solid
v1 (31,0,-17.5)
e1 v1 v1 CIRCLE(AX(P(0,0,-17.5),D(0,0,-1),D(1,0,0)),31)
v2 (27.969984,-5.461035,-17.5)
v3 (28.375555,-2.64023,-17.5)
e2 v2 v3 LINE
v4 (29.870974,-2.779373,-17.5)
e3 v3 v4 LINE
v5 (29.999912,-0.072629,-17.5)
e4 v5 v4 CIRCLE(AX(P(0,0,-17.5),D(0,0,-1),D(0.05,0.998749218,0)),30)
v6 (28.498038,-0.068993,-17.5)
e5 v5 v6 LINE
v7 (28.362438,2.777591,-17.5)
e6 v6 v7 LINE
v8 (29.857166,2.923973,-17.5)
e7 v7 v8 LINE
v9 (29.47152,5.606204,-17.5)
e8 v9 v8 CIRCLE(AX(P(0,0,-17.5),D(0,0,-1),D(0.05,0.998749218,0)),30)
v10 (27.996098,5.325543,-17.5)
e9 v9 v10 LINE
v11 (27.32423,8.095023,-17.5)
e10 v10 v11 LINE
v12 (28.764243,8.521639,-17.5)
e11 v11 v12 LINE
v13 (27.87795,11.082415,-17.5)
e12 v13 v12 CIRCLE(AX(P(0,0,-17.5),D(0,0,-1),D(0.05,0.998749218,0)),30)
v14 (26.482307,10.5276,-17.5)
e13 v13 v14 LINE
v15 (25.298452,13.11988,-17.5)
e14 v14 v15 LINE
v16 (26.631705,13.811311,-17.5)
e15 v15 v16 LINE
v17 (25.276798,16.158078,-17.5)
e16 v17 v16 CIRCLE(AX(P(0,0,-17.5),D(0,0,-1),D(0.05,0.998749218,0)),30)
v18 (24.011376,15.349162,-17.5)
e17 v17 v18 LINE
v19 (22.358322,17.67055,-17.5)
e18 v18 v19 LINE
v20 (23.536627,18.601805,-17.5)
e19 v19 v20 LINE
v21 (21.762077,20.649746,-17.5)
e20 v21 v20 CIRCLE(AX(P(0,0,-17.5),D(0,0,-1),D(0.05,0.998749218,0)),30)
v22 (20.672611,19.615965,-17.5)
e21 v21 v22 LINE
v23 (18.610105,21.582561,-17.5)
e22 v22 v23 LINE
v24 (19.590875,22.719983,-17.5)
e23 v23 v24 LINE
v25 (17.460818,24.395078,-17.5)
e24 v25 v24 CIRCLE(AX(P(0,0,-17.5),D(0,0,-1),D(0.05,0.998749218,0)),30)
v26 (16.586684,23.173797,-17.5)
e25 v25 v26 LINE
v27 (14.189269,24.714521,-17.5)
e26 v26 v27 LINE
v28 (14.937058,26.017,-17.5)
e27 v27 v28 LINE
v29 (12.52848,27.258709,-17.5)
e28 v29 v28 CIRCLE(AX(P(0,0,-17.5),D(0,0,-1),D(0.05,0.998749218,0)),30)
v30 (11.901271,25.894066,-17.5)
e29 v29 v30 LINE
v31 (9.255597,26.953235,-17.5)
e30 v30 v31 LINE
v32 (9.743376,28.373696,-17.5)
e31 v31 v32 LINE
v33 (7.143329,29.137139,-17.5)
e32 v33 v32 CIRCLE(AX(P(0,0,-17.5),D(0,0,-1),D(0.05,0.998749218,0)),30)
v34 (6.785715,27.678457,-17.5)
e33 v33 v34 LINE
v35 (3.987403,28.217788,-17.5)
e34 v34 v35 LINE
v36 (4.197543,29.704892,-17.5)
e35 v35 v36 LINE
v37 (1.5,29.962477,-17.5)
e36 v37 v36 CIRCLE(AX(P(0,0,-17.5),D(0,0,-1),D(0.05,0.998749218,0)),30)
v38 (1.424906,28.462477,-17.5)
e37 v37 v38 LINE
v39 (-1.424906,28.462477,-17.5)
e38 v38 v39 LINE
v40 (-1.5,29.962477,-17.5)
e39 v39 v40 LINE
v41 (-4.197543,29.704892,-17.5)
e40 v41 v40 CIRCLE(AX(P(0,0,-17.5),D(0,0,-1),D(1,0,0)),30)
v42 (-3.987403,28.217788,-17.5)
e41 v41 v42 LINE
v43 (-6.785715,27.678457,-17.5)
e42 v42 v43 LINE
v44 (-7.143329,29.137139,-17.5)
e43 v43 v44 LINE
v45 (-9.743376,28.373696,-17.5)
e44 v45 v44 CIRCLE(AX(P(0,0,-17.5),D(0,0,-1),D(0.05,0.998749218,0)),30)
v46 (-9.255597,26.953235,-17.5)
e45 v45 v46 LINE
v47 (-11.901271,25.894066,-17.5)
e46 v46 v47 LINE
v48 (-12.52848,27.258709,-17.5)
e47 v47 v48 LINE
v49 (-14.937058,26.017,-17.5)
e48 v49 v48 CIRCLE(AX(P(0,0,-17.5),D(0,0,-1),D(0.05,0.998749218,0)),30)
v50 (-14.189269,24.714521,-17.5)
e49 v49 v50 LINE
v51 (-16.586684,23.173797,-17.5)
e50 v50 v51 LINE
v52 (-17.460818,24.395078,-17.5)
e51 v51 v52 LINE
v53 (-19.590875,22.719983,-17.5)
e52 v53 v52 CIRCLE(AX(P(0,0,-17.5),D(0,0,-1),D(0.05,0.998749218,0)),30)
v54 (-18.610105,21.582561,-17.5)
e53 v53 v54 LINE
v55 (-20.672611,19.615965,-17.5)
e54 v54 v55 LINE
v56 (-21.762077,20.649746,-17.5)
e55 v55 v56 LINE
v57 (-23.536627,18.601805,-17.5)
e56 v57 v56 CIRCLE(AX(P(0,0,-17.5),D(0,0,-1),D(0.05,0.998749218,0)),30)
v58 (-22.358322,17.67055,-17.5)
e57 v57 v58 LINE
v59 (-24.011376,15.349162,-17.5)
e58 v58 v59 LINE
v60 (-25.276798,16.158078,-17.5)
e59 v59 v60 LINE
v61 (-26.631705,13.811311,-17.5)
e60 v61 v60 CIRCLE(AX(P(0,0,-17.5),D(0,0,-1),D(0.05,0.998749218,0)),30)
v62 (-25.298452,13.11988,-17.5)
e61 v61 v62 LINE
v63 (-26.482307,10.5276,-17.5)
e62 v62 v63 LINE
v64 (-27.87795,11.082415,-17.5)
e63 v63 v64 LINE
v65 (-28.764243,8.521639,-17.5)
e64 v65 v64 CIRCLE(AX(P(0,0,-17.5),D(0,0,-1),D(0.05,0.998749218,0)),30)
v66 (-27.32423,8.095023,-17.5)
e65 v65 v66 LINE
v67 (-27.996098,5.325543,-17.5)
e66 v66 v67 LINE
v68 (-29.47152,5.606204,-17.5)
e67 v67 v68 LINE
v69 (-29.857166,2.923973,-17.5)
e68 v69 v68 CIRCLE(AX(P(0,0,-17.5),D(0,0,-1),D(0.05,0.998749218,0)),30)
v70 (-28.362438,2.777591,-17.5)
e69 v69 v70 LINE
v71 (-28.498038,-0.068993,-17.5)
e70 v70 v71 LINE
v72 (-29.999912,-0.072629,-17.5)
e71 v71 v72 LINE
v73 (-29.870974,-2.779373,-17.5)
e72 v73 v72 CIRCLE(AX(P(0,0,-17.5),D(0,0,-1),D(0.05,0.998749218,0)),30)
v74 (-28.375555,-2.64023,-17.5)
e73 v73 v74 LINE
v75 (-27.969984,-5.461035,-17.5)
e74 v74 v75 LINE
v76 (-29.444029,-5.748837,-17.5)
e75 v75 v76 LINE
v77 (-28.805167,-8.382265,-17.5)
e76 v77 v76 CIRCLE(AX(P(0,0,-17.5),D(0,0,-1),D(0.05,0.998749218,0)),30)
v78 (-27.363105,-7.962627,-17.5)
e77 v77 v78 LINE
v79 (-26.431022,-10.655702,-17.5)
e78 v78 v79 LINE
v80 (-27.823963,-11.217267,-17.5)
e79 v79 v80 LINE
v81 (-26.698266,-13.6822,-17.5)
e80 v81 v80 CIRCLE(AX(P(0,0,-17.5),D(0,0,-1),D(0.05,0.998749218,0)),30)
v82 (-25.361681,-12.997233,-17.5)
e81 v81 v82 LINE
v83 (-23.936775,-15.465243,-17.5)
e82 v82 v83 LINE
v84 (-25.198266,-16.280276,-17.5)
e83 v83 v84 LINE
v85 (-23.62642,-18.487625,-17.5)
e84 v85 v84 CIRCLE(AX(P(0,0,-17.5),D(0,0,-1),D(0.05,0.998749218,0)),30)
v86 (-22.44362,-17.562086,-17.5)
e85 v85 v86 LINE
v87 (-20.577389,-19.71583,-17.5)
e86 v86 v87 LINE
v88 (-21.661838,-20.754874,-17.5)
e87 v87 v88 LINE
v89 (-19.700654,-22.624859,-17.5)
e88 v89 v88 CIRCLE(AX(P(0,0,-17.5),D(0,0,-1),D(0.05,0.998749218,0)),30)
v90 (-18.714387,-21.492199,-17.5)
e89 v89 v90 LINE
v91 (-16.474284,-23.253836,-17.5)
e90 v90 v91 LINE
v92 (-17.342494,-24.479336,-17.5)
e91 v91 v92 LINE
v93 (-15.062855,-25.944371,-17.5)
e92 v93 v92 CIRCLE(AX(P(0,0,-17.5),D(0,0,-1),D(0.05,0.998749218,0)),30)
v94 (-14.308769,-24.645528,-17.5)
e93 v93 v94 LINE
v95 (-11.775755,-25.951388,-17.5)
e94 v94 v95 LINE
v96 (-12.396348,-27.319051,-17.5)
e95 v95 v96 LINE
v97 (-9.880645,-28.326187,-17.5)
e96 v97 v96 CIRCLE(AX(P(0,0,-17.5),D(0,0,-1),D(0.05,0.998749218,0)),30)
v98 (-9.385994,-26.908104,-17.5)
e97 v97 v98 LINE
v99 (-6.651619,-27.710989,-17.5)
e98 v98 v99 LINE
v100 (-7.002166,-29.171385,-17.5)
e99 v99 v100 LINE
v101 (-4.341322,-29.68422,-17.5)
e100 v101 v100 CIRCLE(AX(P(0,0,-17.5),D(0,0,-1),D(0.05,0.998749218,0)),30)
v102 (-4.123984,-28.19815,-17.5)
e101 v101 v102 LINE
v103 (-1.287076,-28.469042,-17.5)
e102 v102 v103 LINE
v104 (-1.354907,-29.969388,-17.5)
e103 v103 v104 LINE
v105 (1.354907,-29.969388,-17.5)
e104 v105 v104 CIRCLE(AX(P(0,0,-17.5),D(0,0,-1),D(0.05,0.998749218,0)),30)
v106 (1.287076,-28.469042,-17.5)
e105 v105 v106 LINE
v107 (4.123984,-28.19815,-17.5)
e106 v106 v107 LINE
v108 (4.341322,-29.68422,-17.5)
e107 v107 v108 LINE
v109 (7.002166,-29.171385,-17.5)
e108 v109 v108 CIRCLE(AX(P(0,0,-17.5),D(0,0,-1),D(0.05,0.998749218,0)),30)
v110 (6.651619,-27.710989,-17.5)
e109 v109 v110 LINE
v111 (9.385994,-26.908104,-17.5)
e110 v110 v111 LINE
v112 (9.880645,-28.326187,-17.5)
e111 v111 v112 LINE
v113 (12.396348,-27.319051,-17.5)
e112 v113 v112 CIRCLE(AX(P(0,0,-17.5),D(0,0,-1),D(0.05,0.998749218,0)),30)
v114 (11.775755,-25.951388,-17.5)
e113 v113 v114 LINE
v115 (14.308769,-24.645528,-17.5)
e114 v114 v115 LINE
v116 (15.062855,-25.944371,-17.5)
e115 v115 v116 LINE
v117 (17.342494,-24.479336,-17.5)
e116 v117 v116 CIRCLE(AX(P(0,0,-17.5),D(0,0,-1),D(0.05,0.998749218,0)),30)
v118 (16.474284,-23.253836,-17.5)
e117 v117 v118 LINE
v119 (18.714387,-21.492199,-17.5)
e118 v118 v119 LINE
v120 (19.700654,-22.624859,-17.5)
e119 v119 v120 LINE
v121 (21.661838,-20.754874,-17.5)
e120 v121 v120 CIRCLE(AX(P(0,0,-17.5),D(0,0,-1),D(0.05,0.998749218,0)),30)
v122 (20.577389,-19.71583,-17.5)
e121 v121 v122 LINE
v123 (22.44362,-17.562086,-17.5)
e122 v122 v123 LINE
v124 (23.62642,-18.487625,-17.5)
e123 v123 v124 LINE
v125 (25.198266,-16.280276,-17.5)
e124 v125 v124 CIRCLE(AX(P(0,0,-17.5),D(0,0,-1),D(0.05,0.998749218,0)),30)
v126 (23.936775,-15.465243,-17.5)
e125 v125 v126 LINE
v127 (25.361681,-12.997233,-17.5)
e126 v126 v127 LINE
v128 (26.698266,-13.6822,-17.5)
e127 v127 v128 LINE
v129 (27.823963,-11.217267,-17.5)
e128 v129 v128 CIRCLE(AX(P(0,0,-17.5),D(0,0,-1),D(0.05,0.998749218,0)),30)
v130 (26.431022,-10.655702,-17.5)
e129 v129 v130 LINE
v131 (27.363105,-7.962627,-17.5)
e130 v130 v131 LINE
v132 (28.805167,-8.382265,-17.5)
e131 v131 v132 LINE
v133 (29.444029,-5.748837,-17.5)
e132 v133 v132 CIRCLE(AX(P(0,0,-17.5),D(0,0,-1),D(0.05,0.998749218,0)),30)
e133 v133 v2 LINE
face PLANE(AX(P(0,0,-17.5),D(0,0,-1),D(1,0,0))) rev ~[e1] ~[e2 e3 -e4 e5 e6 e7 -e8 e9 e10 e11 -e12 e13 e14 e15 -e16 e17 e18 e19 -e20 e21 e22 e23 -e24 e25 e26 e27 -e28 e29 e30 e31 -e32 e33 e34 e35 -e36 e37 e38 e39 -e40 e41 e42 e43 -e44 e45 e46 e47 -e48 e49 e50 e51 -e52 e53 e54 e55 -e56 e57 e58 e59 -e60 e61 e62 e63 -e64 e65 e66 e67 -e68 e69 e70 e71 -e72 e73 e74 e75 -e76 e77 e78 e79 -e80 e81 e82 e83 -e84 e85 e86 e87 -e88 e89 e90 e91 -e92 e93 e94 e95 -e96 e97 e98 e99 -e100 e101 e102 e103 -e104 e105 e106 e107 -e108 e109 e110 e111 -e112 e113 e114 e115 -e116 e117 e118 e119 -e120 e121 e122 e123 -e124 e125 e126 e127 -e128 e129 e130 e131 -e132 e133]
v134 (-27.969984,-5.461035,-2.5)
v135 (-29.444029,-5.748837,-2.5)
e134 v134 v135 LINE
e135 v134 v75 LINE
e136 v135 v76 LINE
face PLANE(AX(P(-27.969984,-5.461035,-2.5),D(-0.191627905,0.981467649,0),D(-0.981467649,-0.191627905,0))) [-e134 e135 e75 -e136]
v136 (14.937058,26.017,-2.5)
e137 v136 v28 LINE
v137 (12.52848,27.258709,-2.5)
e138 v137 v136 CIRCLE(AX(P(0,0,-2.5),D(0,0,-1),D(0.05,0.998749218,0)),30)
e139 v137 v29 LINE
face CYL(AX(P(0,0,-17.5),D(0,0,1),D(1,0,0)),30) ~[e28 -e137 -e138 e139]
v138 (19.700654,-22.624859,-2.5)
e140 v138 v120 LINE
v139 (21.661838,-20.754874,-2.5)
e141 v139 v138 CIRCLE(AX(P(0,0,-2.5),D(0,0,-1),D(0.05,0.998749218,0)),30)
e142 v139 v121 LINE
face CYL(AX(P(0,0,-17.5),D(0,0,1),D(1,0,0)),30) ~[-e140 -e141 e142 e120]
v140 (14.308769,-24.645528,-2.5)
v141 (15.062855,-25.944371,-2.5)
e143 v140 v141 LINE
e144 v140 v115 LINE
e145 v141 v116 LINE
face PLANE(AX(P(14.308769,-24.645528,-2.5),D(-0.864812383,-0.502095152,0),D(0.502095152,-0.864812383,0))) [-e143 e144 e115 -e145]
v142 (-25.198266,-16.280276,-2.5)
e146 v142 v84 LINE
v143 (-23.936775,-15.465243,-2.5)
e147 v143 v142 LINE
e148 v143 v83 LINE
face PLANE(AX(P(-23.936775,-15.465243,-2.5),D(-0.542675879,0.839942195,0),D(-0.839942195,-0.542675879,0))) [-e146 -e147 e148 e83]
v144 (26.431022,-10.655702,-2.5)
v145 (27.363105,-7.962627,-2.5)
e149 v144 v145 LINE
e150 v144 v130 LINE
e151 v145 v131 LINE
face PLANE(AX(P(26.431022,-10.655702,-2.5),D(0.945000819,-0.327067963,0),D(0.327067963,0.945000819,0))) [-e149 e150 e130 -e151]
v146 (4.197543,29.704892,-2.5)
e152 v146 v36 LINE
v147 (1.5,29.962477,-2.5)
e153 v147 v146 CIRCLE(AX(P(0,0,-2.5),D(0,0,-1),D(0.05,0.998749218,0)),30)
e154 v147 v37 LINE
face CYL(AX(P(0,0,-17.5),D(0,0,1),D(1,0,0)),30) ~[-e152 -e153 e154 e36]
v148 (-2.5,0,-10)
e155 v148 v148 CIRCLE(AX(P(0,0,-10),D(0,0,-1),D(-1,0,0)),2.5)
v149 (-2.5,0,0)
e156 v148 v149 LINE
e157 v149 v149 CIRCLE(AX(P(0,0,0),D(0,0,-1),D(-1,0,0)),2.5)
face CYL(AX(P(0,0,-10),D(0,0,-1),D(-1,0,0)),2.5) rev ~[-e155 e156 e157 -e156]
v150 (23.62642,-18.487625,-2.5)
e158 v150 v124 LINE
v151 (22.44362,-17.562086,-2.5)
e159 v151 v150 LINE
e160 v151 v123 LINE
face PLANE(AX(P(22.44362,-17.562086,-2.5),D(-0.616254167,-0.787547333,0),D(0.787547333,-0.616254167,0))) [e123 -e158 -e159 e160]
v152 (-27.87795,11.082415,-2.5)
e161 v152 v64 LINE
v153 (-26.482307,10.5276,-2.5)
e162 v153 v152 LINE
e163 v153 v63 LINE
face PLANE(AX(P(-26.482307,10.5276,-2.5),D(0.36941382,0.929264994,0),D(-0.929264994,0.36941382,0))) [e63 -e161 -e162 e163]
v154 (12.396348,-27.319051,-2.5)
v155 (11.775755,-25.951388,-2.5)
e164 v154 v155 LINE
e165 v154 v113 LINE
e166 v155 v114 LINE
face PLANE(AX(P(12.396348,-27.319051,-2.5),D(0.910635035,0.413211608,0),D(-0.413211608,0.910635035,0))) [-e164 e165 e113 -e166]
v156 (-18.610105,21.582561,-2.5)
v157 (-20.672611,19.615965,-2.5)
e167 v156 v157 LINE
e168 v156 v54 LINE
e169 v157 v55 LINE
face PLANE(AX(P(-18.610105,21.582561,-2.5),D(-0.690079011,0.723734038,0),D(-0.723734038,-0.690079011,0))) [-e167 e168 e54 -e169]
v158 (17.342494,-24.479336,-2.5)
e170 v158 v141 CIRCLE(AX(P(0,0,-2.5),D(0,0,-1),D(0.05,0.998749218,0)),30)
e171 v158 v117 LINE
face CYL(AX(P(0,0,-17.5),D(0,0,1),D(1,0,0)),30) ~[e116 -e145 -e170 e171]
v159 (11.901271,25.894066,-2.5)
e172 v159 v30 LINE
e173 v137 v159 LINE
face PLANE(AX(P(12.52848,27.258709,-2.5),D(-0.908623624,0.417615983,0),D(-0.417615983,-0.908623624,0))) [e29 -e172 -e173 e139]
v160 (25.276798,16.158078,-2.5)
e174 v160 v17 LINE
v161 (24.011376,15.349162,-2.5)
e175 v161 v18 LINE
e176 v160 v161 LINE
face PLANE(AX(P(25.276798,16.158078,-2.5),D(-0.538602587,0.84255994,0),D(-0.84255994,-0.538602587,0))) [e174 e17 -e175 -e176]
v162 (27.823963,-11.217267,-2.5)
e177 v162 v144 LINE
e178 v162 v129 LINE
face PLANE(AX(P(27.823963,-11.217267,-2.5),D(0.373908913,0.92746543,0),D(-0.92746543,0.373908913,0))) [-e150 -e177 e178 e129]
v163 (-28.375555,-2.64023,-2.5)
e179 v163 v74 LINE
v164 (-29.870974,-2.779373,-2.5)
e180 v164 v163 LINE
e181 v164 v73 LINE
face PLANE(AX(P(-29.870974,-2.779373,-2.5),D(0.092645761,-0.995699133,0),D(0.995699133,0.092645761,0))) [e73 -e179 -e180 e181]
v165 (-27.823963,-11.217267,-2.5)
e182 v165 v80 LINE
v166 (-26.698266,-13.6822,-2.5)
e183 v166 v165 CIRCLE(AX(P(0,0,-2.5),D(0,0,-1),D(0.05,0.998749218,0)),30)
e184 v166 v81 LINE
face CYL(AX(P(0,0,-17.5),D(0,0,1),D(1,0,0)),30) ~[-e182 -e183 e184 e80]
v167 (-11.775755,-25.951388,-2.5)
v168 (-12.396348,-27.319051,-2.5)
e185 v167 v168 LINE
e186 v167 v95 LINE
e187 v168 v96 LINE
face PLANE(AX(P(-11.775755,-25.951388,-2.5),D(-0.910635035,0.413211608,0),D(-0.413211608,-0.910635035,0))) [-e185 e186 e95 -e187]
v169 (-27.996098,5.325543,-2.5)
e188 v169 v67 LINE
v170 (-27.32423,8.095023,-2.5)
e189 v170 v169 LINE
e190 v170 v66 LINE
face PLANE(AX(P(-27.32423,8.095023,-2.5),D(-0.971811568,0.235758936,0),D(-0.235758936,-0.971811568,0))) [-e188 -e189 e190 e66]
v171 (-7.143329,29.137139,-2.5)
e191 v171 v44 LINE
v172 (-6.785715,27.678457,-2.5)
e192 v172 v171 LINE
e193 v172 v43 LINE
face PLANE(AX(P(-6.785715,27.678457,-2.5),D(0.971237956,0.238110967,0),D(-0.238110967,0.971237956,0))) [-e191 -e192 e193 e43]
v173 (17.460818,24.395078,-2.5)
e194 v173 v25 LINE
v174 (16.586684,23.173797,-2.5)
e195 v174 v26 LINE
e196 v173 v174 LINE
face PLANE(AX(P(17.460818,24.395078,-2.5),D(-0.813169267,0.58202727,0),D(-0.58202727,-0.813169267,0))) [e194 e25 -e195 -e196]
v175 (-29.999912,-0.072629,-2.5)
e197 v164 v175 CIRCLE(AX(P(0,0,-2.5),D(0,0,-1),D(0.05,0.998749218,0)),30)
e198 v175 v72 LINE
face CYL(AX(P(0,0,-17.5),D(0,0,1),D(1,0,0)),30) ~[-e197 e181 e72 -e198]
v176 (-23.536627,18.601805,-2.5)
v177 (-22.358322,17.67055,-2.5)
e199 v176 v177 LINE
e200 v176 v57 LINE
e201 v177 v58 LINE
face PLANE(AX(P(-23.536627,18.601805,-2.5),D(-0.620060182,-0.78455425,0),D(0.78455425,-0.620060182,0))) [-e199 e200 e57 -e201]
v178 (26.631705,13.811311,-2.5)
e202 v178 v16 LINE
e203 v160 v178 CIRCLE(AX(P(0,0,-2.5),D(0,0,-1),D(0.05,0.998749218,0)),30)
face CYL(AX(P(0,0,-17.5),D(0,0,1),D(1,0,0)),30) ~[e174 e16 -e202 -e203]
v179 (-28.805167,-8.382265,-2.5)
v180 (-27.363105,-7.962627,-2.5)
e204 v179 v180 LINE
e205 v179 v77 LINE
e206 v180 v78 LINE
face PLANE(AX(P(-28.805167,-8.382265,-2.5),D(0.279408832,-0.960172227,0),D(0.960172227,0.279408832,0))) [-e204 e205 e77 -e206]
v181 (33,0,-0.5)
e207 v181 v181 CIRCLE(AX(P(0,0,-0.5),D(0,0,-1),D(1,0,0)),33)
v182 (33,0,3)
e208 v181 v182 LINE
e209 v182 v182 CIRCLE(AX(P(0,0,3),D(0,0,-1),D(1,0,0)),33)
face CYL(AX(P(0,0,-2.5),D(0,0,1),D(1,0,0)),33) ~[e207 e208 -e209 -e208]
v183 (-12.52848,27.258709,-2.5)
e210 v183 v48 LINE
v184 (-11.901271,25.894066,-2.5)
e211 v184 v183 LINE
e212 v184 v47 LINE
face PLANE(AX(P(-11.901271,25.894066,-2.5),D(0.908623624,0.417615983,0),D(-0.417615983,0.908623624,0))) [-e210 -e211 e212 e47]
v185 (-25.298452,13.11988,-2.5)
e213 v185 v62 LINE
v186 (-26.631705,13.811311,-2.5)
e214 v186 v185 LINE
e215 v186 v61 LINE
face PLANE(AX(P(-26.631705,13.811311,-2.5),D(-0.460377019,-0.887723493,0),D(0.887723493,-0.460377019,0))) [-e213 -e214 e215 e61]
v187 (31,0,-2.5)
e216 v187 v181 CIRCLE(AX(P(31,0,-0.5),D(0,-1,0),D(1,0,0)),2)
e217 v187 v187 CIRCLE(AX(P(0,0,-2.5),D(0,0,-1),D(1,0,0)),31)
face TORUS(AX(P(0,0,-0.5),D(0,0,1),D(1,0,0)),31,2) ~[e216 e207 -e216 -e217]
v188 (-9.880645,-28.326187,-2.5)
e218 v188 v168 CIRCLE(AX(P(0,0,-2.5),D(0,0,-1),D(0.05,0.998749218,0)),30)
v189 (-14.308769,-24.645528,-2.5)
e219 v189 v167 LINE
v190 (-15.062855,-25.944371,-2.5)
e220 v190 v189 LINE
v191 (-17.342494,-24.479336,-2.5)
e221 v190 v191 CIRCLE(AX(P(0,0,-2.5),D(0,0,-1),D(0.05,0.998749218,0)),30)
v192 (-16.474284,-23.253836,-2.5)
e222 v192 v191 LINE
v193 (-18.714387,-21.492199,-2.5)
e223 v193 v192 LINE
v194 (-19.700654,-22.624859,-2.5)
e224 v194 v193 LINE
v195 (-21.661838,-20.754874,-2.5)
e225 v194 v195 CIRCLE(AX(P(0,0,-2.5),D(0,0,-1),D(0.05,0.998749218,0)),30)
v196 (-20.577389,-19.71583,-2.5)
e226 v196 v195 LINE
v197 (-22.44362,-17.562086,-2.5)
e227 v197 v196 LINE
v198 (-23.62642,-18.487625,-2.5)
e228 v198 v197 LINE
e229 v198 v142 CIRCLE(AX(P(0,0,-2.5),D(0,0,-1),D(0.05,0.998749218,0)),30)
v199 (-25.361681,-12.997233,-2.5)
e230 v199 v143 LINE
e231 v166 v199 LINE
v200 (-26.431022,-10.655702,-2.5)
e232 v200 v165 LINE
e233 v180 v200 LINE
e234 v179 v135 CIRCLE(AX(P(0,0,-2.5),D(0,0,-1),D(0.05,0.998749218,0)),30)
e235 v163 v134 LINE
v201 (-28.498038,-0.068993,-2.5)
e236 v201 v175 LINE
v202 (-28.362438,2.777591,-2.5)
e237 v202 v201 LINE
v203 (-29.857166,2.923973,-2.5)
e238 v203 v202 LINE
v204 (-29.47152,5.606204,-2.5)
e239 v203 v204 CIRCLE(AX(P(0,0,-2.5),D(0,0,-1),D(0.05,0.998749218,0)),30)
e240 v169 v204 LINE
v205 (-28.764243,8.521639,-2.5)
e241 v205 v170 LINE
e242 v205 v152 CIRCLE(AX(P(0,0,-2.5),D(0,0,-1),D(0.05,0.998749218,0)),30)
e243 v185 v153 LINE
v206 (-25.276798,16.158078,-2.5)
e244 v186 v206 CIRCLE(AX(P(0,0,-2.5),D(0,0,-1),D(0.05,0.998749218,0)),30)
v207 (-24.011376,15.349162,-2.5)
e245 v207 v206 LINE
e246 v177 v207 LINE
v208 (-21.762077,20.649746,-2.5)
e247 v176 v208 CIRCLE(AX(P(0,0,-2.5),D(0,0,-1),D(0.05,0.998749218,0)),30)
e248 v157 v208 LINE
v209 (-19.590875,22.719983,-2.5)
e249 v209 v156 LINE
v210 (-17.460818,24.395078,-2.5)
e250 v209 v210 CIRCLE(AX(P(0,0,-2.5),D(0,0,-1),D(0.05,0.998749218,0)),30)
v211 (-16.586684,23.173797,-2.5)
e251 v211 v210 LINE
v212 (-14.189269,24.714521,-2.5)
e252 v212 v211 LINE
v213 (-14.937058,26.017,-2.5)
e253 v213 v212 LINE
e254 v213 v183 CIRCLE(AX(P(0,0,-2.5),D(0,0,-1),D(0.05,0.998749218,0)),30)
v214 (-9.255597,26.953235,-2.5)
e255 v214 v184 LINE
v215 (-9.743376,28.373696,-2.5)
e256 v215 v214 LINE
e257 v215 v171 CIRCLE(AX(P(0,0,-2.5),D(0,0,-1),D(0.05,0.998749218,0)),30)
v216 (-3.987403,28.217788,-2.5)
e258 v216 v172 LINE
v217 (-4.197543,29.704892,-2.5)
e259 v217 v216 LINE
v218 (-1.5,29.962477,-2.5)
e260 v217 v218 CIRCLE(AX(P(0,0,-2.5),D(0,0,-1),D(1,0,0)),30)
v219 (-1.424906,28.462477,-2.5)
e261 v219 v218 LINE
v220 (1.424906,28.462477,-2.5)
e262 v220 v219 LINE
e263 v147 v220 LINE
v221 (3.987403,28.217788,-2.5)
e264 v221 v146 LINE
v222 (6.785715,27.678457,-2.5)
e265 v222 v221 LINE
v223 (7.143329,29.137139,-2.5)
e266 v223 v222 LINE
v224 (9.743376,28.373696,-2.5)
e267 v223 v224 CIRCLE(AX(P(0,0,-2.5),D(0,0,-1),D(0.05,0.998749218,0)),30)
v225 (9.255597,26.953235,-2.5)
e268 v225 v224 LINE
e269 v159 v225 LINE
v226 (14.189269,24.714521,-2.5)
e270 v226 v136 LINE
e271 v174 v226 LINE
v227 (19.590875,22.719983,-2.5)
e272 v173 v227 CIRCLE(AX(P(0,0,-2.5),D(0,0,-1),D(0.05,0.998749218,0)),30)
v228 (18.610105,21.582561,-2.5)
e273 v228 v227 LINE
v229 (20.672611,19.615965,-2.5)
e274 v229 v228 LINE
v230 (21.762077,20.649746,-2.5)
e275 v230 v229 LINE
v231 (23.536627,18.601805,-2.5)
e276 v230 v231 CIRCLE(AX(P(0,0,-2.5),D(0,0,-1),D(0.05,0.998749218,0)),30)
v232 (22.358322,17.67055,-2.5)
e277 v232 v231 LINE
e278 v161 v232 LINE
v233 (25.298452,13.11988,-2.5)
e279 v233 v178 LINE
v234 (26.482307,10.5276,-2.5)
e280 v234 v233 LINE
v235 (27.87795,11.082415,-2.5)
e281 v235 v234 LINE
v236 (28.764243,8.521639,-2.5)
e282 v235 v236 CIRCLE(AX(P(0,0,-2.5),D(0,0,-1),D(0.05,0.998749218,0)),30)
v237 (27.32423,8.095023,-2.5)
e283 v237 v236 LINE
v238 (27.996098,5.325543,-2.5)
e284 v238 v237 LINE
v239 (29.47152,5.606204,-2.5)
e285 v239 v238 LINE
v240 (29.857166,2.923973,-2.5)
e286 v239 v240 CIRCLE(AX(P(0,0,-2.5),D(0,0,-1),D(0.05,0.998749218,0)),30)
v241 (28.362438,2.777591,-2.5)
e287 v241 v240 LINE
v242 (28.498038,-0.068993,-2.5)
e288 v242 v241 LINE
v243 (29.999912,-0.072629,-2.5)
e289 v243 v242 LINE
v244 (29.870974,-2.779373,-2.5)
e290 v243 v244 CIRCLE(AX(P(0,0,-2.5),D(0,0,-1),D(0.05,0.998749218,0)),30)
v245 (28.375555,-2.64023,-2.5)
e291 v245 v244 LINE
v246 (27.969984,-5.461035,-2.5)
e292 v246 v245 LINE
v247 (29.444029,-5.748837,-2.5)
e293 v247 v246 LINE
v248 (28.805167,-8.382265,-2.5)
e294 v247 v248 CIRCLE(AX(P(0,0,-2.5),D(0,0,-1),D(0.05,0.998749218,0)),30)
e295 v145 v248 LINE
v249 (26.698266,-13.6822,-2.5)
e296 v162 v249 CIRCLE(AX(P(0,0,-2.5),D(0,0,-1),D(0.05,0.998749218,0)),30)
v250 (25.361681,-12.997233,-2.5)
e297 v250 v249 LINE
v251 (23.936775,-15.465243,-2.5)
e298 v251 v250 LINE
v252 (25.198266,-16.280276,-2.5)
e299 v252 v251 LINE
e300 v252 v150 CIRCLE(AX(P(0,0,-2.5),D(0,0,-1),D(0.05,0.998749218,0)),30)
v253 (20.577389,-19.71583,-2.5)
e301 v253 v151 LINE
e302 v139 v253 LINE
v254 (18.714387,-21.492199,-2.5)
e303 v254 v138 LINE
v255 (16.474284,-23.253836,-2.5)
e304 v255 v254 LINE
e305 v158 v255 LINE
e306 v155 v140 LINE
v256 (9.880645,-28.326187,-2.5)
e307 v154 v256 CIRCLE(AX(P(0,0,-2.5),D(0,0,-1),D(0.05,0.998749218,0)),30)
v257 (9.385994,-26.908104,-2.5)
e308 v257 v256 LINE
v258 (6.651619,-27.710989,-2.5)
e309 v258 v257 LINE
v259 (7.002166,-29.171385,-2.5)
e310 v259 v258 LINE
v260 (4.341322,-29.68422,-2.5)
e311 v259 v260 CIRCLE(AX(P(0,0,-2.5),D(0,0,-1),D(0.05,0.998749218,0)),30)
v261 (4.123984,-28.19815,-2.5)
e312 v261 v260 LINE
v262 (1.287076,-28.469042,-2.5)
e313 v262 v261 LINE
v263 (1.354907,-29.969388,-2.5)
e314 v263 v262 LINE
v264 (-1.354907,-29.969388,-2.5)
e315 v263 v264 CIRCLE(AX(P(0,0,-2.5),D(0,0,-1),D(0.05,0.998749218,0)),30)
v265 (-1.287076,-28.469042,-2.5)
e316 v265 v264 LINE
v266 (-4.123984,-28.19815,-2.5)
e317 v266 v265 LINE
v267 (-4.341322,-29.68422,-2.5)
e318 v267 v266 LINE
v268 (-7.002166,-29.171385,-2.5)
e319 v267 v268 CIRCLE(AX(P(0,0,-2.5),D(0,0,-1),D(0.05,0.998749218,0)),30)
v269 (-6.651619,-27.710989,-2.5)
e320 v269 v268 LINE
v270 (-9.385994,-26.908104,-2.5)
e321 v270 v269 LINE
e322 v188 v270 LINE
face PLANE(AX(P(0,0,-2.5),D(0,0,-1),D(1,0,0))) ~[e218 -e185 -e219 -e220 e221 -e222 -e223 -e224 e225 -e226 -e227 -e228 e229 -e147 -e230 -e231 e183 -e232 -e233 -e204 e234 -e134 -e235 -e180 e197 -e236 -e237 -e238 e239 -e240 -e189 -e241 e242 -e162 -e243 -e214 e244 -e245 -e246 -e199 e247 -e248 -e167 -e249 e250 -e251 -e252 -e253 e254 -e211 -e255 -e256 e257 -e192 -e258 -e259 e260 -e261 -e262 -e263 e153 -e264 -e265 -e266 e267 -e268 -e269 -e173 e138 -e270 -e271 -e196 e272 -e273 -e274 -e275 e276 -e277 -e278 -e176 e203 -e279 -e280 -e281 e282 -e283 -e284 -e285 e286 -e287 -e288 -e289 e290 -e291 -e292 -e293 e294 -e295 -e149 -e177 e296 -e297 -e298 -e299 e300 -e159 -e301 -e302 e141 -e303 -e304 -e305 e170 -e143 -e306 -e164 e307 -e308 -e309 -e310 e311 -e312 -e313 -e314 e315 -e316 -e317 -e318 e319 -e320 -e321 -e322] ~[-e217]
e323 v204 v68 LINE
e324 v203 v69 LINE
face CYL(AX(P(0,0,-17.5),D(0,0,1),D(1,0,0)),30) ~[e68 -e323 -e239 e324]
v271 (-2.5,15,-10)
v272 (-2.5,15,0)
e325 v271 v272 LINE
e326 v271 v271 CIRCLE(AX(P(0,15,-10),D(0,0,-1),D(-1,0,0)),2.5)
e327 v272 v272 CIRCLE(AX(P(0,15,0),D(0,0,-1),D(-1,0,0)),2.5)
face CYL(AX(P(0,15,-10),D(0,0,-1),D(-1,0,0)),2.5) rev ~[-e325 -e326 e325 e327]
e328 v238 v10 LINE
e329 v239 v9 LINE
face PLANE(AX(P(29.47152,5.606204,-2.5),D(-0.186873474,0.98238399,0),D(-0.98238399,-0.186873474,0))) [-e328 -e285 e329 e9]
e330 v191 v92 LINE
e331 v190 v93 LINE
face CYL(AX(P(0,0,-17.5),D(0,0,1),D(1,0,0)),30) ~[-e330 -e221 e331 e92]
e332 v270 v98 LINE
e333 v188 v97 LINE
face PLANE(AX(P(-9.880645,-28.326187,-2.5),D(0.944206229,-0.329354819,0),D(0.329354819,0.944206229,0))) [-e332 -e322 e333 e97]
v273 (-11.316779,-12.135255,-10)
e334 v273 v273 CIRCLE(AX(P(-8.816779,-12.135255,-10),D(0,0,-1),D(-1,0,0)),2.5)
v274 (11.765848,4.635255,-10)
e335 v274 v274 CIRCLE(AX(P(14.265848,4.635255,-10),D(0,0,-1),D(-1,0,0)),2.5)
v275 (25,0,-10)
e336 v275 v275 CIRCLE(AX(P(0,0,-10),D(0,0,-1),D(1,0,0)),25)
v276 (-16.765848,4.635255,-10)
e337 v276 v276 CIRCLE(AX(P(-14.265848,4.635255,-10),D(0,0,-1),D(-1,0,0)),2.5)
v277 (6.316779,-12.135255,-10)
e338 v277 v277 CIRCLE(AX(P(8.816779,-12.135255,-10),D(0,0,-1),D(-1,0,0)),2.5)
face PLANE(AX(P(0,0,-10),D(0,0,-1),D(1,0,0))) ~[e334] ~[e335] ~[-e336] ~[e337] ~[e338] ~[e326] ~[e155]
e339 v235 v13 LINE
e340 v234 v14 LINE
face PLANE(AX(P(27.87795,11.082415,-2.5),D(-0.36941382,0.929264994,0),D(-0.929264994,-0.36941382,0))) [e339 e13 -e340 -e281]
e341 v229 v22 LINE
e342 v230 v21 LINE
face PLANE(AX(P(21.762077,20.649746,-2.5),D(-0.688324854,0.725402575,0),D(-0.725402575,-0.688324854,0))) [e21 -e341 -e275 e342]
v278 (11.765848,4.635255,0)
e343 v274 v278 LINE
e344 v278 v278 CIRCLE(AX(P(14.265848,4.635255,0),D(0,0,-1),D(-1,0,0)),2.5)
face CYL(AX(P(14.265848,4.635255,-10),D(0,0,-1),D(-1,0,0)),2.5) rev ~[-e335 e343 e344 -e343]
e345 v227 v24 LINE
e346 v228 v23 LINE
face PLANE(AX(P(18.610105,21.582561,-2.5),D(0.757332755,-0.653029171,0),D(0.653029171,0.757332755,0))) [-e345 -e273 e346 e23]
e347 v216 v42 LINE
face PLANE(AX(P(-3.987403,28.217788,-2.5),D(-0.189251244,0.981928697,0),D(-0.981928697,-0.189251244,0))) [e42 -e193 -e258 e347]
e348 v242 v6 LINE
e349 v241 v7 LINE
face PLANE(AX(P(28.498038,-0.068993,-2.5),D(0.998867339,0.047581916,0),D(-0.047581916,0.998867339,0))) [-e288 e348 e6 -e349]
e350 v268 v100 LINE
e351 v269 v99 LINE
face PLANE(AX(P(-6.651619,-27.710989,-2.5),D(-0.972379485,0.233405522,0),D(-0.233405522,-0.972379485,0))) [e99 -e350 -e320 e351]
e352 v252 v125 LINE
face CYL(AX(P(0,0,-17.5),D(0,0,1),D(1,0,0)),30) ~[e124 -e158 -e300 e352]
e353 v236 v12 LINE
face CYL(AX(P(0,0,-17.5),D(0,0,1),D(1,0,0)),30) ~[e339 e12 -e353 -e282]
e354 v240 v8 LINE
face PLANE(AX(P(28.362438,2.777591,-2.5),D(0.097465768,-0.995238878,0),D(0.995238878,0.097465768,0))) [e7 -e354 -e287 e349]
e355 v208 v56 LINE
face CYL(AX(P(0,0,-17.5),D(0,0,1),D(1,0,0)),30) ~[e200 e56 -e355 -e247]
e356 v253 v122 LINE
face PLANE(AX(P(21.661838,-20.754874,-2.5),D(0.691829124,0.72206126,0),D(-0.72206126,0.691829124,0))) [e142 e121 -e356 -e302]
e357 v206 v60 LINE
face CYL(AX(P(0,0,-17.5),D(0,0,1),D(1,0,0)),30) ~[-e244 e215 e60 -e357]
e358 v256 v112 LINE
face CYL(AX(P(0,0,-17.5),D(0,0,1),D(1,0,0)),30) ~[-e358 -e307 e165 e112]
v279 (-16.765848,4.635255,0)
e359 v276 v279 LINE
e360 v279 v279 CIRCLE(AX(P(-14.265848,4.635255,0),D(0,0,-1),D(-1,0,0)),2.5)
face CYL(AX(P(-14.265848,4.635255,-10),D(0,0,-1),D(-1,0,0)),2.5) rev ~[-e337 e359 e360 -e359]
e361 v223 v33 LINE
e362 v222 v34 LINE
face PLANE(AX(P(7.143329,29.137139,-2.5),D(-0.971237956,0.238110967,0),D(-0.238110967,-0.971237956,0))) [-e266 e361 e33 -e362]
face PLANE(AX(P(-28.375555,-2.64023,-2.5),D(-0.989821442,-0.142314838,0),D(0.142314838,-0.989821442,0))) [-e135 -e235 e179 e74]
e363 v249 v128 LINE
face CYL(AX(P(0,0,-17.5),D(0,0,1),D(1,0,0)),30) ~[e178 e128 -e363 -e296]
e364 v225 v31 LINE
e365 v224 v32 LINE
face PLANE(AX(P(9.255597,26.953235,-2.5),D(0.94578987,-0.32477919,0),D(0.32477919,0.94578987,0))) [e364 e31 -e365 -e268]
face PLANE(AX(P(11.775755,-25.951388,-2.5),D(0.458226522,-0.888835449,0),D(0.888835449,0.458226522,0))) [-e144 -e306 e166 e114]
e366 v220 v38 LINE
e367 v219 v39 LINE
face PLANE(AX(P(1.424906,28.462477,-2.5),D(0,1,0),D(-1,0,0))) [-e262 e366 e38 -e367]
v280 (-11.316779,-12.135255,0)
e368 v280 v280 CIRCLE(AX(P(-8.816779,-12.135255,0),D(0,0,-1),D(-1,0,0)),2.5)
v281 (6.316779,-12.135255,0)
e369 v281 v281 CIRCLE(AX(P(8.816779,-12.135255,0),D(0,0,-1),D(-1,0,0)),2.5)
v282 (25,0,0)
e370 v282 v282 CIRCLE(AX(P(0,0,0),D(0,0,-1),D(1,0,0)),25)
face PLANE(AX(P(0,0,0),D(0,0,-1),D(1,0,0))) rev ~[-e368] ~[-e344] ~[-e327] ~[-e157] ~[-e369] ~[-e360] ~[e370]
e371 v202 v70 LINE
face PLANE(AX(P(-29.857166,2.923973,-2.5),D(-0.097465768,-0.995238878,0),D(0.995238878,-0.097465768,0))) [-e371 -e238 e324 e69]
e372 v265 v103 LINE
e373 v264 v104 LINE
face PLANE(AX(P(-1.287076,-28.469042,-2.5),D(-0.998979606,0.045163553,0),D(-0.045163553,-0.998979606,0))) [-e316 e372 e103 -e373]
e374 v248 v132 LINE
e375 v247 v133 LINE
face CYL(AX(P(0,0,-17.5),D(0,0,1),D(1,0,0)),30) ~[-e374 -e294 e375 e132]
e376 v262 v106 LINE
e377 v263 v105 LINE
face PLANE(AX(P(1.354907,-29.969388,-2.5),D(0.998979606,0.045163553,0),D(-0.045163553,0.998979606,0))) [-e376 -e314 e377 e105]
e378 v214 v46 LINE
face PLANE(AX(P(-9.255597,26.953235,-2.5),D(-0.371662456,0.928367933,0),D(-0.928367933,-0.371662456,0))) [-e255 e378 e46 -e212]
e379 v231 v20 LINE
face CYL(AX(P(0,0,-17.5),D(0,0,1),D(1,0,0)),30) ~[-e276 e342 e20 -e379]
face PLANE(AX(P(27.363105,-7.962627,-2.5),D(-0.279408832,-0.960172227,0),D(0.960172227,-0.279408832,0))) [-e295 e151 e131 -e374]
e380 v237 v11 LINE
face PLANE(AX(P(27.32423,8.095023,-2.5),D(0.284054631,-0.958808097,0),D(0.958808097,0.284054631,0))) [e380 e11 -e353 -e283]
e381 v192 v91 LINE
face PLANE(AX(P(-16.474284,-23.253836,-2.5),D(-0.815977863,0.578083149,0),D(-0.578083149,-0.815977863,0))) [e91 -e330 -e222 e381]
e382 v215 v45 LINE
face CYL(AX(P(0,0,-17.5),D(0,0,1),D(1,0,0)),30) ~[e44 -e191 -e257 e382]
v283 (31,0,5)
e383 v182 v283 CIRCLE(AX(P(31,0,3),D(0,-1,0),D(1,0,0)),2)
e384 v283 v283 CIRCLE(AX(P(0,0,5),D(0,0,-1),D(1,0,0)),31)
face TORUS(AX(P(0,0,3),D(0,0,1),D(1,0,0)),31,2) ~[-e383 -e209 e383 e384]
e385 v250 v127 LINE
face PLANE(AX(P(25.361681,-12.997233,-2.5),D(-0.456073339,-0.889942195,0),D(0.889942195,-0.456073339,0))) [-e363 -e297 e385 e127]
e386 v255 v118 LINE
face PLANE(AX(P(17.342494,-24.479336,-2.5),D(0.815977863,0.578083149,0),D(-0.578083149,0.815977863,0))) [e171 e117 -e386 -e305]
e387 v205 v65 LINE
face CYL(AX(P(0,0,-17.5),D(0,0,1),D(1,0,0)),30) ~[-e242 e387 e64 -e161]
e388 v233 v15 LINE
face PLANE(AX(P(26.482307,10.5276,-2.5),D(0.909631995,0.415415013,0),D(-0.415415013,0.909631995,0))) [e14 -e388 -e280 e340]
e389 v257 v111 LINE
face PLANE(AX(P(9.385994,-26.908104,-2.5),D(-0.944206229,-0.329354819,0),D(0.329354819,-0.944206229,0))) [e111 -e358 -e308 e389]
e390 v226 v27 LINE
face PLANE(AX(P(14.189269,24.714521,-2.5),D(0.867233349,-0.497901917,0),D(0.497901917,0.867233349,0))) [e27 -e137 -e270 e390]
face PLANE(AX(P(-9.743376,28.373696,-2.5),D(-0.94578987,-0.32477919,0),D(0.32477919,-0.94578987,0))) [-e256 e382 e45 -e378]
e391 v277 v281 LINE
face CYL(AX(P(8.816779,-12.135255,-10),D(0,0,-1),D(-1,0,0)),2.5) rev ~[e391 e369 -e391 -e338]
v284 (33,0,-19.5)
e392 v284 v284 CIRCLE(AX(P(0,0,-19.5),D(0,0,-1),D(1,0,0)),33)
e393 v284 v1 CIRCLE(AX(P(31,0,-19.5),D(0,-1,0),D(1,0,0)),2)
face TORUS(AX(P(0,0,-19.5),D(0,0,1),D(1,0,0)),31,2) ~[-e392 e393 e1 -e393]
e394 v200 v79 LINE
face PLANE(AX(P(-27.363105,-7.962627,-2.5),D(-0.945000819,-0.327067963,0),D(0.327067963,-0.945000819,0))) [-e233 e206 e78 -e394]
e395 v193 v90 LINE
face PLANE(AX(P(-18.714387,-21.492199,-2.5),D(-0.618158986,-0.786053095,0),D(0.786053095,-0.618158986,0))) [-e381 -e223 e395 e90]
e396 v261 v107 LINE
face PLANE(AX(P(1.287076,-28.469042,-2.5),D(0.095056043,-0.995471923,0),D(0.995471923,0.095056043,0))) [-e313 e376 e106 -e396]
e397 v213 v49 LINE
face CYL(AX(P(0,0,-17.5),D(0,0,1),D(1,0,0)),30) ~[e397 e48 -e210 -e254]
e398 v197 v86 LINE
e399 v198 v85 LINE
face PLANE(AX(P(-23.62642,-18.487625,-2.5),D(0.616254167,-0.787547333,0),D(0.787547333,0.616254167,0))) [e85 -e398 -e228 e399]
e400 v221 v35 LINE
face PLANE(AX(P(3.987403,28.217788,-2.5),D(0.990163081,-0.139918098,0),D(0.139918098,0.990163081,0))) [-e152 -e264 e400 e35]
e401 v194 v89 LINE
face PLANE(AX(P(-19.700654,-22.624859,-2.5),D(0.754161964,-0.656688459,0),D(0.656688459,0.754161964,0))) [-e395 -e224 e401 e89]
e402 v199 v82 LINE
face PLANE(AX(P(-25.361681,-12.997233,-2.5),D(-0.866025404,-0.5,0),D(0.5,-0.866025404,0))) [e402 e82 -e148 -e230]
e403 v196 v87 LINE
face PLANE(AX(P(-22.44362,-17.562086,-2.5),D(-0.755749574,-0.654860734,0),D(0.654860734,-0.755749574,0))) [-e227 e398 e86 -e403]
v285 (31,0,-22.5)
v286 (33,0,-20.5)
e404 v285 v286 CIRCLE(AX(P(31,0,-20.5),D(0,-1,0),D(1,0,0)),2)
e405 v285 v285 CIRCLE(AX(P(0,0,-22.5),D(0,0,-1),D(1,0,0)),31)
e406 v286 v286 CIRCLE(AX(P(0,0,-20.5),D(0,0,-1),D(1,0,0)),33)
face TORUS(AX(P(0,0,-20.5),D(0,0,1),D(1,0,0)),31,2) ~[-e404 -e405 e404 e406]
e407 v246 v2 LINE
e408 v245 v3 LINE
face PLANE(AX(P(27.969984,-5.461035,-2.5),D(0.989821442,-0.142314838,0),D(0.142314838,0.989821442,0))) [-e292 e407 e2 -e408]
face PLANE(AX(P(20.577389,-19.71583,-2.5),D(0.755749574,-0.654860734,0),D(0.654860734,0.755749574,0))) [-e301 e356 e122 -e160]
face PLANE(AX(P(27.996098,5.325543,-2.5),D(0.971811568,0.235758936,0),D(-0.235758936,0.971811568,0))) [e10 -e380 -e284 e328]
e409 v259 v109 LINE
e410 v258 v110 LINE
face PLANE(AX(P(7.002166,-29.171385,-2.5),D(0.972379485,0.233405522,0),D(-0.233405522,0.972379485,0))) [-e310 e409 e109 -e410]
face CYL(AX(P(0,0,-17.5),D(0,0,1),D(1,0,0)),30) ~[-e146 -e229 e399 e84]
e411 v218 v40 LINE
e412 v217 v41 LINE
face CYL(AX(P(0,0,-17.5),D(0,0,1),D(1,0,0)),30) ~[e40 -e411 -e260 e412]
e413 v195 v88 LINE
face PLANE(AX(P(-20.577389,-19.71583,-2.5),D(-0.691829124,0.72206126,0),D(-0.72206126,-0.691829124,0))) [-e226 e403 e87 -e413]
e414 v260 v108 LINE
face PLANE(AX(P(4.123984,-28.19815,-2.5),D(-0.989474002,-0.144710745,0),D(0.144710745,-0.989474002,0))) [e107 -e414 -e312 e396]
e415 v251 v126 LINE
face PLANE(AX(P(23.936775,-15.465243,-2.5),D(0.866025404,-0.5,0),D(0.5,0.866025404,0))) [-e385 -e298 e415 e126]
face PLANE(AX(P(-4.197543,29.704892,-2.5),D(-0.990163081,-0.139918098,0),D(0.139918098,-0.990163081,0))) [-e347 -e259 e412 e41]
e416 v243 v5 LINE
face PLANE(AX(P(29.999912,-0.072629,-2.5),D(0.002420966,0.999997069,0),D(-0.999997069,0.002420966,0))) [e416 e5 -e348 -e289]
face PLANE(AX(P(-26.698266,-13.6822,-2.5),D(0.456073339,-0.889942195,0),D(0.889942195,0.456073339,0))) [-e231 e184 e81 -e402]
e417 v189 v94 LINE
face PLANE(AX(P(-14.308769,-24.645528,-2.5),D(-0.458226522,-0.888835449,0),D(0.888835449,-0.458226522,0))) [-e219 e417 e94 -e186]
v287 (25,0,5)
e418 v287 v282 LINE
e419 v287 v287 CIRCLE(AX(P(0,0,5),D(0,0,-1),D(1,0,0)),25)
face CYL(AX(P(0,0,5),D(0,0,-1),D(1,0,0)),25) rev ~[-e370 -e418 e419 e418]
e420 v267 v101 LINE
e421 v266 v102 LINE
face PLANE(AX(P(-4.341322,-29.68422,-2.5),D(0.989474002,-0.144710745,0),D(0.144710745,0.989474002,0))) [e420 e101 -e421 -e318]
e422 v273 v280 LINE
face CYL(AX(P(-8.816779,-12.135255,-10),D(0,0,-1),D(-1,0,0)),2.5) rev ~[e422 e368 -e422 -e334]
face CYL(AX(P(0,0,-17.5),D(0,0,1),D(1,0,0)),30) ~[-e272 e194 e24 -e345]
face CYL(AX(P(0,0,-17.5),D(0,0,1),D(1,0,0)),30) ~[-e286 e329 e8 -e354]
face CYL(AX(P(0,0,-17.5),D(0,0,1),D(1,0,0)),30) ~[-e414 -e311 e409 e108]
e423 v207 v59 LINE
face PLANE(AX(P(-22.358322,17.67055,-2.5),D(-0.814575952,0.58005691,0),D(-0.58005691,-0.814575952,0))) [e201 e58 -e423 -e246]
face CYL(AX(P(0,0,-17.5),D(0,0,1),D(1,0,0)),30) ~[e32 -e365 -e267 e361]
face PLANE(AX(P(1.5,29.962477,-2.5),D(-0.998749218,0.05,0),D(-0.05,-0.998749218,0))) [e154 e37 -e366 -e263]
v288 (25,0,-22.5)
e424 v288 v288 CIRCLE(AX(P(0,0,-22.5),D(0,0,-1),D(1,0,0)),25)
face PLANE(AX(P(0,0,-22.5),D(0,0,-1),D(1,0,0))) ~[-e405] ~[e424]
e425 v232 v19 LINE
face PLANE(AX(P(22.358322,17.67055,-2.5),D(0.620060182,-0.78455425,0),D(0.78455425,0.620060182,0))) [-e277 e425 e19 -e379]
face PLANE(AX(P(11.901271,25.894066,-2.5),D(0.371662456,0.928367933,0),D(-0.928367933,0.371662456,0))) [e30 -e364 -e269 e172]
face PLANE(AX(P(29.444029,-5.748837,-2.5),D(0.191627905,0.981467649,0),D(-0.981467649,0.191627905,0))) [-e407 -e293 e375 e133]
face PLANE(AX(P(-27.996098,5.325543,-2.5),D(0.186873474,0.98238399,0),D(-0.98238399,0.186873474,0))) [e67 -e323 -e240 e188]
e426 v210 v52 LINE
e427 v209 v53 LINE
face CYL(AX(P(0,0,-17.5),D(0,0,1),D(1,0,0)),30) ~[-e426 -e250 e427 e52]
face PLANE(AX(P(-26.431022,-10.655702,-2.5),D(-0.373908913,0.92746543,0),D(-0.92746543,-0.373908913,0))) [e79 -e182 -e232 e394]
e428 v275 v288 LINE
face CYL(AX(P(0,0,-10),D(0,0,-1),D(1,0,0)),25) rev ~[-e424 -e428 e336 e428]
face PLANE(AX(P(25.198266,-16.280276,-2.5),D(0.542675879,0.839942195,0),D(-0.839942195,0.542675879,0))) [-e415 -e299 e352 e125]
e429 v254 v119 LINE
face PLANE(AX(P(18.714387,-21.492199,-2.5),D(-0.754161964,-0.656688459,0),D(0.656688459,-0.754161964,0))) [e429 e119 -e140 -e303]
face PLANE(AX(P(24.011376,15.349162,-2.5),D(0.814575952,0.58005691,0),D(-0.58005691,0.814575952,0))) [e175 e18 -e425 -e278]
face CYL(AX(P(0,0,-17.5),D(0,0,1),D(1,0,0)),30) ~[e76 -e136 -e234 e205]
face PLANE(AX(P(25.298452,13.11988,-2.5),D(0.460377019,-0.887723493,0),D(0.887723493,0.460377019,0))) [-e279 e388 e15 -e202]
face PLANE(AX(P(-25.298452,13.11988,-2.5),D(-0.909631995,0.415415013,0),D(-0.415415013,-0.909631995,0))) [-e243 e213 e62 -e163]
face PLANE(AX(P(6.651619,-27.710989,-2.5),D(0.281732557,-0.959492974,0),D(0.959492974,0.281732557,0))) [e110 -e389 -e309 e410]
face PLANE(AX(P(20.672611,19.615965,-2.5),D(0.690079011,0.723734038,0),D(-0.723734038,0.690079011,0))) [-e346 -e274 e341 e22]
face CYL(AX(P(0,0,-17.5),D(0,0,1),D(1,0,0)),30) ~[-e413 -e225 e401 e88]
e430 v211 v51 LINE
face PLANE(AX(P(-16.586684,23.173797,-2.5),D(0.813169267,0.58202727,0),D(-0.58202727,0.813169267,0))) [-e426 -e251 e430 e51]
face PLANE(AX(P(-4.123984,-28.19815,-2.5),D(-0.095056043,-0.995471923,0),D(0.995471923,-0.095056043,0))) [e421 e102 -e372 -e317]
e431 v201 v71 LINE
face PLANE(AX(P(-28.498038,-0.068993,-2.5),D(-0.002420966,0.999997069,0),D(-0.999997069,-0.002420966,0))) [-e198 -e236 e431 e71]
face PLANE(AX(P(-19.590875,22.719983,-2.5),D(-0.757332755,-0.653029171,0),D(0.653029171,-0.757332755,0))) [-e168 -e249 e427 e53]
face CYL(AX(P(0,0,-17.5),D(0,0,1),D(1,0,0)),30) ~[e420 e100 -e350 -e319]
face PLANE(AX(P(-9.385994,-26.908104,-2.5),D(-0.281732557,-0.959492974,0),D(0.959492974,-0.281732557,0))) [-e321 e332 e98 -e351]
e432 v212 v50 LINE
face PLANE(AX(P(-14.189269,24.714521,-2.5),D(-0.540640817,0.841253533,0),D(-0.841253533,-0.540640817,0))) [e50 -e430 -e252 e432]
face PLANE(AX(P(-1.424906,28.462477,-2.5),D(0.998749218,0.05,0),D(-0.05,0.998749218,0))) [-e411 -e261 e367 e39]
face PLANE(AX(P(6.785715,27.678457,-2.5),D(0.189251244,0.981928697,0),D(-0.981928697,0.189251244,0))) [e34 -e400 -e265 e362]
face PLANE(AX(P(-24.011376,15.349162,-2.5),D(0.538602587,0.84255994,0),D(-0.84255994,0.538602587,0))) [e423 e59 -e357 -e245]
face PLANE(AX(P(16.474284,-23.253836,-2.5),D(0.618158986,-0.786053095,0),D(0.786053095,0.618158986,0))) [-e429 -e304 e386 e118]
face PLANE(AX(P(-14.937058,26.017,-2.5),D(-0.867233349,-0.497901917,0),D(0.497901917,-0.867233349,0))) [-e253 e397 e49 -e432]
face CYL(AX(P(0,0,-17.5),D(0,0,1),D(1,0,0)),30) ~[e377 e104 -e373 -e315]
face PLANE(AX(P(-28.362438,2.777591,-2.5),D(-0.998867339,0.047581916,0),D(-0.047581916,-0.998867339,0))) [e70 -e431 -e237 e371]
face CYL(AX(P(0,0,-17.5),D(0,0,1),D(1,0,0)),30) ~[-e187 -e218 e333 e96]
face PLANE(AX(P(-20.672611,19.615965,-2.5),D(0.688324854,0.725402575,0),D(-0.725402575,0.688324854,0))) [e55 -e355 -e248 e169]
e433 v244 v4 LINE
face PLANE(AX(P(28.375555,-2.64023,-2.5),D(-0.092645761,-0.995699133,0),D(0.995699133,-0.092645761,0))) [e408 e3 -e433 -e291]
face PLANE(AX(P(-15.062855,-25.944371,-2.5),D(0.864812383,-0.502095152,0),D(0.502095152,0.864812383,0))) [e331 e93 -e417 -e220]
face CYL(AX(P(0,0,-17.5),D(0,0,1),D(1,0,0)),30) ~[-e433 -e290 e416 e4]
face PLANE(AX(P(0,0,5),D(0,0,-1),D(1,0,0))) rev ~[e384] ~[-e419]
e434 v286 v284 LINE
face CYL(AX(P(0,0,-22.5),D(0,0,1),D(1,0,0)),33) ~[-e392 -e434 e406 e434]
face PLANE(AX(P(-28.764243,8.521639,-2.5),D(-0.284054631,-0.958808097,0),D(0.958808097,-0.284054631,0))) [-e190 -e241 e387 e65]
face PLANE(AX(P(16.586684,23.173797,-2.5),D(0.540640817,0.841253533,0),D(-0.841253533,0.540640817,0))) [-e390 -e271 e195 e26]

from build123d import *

# Parameters (mm, degrees)
FILLET1_R          = 2
SKETCH2_R          = 2.5
CUT_EXTRUDE1_DEPTH = 16
CUT_EXTRUDE2_DEPTH = 15
CIRPATTERN1_COUNT  = 33


with BuildPart() as part:
    # Sketch1 → Revolve1 (revolve)
    with BuildSketch(Plane(origin=(0, 0, 0), x_dir=(1, 0, 0), z_dir=(0, 1, 0))):
        Polygon((0, 0), (0, 10), (25, 10), (25, 22.5), (33, 22.5), (33, 17.5), (30, 17.5), (30, 2.5), (33, 2.5), (33, -5), (25, -5), (25, 0), align=None)
    revolve(axis=Axis((0, 0, 0), (0, 0, -1)))

    # Fillet1
    fillet1_edges = [part.edges().sort_by_distance(p)[0] for p in [
        (-33, 0, 5),
        (-33, 0, -2.5),
        (-33, 0, -17.5),
        (-33, 0, -22.5),
    ]]
    fillet(fillet1_edges, radius=FILLET1_R)

    # Sketch2 → Cut-Extrude1 (cut, through all)
    with BuildSketch(Plane(origin=(0, 0, -10), x_dir=(-1, 0, 0), z_dir=(0, 0, -1))):
        Circle(SKETCH2_R)
        with Locations((0, 15)):
            Circle(SKETCH2_R)
        with Locations((14.265847744, 4.635254916)):
            Circle(SKETCH2_R)
        with Locations((8.816778784, -12.135254916)):
            Circle(SKETCH2_R)
        with Locations((-8.816778784, -12.135254916)):
            Circle(SKETCH2_R)
        with Locations((-14.265847744, 4.635254916)):
            Circle(SKETCH2_R)
    extrude(amount=-CUT_EXTRUDE1_DEPTH, mode=Mode.SUBTRACT)

    # Sketch3 → Cut-Extrude2 (cut)
    with BuildSketch(Plane(origin=(0, 0, -2.5), x_dir=(-1, 0, 0), z_dir=(0, 0, -1))):
        with BuildLine():
            Line((-1.424906074, 28.462476533), (1.424906074, 28.462476533))
            Line((1.424906074, 28.462476533), (1.5, 29.962476533))
            ThreePointArc((1.5, 29.962476533), (0, 30), (-1.5, 29.962476533))
            Line((-1.5, 29.962476533), (-1.424906074, 28.462476533))
        make_face()
    cut_extrude2 = extrude(amount=CUT_EXTRUDE2_DEPTH, mode=Mode.SUBTRACT)

    # CirPattern1: Cut-Extrude2 ×33 about axis
    cirpattern1_axis = Axis((0, 0, 0), (0, 0, 1))
    for i in range(1, CIRPATTERN1_COUNT):
        add(cut_extrude2.rotate(cirpattern1_axis, i * 360 / CIRPATTERN1_COUNT), mode=Mode.SUBTRACT)


solid = part.part
